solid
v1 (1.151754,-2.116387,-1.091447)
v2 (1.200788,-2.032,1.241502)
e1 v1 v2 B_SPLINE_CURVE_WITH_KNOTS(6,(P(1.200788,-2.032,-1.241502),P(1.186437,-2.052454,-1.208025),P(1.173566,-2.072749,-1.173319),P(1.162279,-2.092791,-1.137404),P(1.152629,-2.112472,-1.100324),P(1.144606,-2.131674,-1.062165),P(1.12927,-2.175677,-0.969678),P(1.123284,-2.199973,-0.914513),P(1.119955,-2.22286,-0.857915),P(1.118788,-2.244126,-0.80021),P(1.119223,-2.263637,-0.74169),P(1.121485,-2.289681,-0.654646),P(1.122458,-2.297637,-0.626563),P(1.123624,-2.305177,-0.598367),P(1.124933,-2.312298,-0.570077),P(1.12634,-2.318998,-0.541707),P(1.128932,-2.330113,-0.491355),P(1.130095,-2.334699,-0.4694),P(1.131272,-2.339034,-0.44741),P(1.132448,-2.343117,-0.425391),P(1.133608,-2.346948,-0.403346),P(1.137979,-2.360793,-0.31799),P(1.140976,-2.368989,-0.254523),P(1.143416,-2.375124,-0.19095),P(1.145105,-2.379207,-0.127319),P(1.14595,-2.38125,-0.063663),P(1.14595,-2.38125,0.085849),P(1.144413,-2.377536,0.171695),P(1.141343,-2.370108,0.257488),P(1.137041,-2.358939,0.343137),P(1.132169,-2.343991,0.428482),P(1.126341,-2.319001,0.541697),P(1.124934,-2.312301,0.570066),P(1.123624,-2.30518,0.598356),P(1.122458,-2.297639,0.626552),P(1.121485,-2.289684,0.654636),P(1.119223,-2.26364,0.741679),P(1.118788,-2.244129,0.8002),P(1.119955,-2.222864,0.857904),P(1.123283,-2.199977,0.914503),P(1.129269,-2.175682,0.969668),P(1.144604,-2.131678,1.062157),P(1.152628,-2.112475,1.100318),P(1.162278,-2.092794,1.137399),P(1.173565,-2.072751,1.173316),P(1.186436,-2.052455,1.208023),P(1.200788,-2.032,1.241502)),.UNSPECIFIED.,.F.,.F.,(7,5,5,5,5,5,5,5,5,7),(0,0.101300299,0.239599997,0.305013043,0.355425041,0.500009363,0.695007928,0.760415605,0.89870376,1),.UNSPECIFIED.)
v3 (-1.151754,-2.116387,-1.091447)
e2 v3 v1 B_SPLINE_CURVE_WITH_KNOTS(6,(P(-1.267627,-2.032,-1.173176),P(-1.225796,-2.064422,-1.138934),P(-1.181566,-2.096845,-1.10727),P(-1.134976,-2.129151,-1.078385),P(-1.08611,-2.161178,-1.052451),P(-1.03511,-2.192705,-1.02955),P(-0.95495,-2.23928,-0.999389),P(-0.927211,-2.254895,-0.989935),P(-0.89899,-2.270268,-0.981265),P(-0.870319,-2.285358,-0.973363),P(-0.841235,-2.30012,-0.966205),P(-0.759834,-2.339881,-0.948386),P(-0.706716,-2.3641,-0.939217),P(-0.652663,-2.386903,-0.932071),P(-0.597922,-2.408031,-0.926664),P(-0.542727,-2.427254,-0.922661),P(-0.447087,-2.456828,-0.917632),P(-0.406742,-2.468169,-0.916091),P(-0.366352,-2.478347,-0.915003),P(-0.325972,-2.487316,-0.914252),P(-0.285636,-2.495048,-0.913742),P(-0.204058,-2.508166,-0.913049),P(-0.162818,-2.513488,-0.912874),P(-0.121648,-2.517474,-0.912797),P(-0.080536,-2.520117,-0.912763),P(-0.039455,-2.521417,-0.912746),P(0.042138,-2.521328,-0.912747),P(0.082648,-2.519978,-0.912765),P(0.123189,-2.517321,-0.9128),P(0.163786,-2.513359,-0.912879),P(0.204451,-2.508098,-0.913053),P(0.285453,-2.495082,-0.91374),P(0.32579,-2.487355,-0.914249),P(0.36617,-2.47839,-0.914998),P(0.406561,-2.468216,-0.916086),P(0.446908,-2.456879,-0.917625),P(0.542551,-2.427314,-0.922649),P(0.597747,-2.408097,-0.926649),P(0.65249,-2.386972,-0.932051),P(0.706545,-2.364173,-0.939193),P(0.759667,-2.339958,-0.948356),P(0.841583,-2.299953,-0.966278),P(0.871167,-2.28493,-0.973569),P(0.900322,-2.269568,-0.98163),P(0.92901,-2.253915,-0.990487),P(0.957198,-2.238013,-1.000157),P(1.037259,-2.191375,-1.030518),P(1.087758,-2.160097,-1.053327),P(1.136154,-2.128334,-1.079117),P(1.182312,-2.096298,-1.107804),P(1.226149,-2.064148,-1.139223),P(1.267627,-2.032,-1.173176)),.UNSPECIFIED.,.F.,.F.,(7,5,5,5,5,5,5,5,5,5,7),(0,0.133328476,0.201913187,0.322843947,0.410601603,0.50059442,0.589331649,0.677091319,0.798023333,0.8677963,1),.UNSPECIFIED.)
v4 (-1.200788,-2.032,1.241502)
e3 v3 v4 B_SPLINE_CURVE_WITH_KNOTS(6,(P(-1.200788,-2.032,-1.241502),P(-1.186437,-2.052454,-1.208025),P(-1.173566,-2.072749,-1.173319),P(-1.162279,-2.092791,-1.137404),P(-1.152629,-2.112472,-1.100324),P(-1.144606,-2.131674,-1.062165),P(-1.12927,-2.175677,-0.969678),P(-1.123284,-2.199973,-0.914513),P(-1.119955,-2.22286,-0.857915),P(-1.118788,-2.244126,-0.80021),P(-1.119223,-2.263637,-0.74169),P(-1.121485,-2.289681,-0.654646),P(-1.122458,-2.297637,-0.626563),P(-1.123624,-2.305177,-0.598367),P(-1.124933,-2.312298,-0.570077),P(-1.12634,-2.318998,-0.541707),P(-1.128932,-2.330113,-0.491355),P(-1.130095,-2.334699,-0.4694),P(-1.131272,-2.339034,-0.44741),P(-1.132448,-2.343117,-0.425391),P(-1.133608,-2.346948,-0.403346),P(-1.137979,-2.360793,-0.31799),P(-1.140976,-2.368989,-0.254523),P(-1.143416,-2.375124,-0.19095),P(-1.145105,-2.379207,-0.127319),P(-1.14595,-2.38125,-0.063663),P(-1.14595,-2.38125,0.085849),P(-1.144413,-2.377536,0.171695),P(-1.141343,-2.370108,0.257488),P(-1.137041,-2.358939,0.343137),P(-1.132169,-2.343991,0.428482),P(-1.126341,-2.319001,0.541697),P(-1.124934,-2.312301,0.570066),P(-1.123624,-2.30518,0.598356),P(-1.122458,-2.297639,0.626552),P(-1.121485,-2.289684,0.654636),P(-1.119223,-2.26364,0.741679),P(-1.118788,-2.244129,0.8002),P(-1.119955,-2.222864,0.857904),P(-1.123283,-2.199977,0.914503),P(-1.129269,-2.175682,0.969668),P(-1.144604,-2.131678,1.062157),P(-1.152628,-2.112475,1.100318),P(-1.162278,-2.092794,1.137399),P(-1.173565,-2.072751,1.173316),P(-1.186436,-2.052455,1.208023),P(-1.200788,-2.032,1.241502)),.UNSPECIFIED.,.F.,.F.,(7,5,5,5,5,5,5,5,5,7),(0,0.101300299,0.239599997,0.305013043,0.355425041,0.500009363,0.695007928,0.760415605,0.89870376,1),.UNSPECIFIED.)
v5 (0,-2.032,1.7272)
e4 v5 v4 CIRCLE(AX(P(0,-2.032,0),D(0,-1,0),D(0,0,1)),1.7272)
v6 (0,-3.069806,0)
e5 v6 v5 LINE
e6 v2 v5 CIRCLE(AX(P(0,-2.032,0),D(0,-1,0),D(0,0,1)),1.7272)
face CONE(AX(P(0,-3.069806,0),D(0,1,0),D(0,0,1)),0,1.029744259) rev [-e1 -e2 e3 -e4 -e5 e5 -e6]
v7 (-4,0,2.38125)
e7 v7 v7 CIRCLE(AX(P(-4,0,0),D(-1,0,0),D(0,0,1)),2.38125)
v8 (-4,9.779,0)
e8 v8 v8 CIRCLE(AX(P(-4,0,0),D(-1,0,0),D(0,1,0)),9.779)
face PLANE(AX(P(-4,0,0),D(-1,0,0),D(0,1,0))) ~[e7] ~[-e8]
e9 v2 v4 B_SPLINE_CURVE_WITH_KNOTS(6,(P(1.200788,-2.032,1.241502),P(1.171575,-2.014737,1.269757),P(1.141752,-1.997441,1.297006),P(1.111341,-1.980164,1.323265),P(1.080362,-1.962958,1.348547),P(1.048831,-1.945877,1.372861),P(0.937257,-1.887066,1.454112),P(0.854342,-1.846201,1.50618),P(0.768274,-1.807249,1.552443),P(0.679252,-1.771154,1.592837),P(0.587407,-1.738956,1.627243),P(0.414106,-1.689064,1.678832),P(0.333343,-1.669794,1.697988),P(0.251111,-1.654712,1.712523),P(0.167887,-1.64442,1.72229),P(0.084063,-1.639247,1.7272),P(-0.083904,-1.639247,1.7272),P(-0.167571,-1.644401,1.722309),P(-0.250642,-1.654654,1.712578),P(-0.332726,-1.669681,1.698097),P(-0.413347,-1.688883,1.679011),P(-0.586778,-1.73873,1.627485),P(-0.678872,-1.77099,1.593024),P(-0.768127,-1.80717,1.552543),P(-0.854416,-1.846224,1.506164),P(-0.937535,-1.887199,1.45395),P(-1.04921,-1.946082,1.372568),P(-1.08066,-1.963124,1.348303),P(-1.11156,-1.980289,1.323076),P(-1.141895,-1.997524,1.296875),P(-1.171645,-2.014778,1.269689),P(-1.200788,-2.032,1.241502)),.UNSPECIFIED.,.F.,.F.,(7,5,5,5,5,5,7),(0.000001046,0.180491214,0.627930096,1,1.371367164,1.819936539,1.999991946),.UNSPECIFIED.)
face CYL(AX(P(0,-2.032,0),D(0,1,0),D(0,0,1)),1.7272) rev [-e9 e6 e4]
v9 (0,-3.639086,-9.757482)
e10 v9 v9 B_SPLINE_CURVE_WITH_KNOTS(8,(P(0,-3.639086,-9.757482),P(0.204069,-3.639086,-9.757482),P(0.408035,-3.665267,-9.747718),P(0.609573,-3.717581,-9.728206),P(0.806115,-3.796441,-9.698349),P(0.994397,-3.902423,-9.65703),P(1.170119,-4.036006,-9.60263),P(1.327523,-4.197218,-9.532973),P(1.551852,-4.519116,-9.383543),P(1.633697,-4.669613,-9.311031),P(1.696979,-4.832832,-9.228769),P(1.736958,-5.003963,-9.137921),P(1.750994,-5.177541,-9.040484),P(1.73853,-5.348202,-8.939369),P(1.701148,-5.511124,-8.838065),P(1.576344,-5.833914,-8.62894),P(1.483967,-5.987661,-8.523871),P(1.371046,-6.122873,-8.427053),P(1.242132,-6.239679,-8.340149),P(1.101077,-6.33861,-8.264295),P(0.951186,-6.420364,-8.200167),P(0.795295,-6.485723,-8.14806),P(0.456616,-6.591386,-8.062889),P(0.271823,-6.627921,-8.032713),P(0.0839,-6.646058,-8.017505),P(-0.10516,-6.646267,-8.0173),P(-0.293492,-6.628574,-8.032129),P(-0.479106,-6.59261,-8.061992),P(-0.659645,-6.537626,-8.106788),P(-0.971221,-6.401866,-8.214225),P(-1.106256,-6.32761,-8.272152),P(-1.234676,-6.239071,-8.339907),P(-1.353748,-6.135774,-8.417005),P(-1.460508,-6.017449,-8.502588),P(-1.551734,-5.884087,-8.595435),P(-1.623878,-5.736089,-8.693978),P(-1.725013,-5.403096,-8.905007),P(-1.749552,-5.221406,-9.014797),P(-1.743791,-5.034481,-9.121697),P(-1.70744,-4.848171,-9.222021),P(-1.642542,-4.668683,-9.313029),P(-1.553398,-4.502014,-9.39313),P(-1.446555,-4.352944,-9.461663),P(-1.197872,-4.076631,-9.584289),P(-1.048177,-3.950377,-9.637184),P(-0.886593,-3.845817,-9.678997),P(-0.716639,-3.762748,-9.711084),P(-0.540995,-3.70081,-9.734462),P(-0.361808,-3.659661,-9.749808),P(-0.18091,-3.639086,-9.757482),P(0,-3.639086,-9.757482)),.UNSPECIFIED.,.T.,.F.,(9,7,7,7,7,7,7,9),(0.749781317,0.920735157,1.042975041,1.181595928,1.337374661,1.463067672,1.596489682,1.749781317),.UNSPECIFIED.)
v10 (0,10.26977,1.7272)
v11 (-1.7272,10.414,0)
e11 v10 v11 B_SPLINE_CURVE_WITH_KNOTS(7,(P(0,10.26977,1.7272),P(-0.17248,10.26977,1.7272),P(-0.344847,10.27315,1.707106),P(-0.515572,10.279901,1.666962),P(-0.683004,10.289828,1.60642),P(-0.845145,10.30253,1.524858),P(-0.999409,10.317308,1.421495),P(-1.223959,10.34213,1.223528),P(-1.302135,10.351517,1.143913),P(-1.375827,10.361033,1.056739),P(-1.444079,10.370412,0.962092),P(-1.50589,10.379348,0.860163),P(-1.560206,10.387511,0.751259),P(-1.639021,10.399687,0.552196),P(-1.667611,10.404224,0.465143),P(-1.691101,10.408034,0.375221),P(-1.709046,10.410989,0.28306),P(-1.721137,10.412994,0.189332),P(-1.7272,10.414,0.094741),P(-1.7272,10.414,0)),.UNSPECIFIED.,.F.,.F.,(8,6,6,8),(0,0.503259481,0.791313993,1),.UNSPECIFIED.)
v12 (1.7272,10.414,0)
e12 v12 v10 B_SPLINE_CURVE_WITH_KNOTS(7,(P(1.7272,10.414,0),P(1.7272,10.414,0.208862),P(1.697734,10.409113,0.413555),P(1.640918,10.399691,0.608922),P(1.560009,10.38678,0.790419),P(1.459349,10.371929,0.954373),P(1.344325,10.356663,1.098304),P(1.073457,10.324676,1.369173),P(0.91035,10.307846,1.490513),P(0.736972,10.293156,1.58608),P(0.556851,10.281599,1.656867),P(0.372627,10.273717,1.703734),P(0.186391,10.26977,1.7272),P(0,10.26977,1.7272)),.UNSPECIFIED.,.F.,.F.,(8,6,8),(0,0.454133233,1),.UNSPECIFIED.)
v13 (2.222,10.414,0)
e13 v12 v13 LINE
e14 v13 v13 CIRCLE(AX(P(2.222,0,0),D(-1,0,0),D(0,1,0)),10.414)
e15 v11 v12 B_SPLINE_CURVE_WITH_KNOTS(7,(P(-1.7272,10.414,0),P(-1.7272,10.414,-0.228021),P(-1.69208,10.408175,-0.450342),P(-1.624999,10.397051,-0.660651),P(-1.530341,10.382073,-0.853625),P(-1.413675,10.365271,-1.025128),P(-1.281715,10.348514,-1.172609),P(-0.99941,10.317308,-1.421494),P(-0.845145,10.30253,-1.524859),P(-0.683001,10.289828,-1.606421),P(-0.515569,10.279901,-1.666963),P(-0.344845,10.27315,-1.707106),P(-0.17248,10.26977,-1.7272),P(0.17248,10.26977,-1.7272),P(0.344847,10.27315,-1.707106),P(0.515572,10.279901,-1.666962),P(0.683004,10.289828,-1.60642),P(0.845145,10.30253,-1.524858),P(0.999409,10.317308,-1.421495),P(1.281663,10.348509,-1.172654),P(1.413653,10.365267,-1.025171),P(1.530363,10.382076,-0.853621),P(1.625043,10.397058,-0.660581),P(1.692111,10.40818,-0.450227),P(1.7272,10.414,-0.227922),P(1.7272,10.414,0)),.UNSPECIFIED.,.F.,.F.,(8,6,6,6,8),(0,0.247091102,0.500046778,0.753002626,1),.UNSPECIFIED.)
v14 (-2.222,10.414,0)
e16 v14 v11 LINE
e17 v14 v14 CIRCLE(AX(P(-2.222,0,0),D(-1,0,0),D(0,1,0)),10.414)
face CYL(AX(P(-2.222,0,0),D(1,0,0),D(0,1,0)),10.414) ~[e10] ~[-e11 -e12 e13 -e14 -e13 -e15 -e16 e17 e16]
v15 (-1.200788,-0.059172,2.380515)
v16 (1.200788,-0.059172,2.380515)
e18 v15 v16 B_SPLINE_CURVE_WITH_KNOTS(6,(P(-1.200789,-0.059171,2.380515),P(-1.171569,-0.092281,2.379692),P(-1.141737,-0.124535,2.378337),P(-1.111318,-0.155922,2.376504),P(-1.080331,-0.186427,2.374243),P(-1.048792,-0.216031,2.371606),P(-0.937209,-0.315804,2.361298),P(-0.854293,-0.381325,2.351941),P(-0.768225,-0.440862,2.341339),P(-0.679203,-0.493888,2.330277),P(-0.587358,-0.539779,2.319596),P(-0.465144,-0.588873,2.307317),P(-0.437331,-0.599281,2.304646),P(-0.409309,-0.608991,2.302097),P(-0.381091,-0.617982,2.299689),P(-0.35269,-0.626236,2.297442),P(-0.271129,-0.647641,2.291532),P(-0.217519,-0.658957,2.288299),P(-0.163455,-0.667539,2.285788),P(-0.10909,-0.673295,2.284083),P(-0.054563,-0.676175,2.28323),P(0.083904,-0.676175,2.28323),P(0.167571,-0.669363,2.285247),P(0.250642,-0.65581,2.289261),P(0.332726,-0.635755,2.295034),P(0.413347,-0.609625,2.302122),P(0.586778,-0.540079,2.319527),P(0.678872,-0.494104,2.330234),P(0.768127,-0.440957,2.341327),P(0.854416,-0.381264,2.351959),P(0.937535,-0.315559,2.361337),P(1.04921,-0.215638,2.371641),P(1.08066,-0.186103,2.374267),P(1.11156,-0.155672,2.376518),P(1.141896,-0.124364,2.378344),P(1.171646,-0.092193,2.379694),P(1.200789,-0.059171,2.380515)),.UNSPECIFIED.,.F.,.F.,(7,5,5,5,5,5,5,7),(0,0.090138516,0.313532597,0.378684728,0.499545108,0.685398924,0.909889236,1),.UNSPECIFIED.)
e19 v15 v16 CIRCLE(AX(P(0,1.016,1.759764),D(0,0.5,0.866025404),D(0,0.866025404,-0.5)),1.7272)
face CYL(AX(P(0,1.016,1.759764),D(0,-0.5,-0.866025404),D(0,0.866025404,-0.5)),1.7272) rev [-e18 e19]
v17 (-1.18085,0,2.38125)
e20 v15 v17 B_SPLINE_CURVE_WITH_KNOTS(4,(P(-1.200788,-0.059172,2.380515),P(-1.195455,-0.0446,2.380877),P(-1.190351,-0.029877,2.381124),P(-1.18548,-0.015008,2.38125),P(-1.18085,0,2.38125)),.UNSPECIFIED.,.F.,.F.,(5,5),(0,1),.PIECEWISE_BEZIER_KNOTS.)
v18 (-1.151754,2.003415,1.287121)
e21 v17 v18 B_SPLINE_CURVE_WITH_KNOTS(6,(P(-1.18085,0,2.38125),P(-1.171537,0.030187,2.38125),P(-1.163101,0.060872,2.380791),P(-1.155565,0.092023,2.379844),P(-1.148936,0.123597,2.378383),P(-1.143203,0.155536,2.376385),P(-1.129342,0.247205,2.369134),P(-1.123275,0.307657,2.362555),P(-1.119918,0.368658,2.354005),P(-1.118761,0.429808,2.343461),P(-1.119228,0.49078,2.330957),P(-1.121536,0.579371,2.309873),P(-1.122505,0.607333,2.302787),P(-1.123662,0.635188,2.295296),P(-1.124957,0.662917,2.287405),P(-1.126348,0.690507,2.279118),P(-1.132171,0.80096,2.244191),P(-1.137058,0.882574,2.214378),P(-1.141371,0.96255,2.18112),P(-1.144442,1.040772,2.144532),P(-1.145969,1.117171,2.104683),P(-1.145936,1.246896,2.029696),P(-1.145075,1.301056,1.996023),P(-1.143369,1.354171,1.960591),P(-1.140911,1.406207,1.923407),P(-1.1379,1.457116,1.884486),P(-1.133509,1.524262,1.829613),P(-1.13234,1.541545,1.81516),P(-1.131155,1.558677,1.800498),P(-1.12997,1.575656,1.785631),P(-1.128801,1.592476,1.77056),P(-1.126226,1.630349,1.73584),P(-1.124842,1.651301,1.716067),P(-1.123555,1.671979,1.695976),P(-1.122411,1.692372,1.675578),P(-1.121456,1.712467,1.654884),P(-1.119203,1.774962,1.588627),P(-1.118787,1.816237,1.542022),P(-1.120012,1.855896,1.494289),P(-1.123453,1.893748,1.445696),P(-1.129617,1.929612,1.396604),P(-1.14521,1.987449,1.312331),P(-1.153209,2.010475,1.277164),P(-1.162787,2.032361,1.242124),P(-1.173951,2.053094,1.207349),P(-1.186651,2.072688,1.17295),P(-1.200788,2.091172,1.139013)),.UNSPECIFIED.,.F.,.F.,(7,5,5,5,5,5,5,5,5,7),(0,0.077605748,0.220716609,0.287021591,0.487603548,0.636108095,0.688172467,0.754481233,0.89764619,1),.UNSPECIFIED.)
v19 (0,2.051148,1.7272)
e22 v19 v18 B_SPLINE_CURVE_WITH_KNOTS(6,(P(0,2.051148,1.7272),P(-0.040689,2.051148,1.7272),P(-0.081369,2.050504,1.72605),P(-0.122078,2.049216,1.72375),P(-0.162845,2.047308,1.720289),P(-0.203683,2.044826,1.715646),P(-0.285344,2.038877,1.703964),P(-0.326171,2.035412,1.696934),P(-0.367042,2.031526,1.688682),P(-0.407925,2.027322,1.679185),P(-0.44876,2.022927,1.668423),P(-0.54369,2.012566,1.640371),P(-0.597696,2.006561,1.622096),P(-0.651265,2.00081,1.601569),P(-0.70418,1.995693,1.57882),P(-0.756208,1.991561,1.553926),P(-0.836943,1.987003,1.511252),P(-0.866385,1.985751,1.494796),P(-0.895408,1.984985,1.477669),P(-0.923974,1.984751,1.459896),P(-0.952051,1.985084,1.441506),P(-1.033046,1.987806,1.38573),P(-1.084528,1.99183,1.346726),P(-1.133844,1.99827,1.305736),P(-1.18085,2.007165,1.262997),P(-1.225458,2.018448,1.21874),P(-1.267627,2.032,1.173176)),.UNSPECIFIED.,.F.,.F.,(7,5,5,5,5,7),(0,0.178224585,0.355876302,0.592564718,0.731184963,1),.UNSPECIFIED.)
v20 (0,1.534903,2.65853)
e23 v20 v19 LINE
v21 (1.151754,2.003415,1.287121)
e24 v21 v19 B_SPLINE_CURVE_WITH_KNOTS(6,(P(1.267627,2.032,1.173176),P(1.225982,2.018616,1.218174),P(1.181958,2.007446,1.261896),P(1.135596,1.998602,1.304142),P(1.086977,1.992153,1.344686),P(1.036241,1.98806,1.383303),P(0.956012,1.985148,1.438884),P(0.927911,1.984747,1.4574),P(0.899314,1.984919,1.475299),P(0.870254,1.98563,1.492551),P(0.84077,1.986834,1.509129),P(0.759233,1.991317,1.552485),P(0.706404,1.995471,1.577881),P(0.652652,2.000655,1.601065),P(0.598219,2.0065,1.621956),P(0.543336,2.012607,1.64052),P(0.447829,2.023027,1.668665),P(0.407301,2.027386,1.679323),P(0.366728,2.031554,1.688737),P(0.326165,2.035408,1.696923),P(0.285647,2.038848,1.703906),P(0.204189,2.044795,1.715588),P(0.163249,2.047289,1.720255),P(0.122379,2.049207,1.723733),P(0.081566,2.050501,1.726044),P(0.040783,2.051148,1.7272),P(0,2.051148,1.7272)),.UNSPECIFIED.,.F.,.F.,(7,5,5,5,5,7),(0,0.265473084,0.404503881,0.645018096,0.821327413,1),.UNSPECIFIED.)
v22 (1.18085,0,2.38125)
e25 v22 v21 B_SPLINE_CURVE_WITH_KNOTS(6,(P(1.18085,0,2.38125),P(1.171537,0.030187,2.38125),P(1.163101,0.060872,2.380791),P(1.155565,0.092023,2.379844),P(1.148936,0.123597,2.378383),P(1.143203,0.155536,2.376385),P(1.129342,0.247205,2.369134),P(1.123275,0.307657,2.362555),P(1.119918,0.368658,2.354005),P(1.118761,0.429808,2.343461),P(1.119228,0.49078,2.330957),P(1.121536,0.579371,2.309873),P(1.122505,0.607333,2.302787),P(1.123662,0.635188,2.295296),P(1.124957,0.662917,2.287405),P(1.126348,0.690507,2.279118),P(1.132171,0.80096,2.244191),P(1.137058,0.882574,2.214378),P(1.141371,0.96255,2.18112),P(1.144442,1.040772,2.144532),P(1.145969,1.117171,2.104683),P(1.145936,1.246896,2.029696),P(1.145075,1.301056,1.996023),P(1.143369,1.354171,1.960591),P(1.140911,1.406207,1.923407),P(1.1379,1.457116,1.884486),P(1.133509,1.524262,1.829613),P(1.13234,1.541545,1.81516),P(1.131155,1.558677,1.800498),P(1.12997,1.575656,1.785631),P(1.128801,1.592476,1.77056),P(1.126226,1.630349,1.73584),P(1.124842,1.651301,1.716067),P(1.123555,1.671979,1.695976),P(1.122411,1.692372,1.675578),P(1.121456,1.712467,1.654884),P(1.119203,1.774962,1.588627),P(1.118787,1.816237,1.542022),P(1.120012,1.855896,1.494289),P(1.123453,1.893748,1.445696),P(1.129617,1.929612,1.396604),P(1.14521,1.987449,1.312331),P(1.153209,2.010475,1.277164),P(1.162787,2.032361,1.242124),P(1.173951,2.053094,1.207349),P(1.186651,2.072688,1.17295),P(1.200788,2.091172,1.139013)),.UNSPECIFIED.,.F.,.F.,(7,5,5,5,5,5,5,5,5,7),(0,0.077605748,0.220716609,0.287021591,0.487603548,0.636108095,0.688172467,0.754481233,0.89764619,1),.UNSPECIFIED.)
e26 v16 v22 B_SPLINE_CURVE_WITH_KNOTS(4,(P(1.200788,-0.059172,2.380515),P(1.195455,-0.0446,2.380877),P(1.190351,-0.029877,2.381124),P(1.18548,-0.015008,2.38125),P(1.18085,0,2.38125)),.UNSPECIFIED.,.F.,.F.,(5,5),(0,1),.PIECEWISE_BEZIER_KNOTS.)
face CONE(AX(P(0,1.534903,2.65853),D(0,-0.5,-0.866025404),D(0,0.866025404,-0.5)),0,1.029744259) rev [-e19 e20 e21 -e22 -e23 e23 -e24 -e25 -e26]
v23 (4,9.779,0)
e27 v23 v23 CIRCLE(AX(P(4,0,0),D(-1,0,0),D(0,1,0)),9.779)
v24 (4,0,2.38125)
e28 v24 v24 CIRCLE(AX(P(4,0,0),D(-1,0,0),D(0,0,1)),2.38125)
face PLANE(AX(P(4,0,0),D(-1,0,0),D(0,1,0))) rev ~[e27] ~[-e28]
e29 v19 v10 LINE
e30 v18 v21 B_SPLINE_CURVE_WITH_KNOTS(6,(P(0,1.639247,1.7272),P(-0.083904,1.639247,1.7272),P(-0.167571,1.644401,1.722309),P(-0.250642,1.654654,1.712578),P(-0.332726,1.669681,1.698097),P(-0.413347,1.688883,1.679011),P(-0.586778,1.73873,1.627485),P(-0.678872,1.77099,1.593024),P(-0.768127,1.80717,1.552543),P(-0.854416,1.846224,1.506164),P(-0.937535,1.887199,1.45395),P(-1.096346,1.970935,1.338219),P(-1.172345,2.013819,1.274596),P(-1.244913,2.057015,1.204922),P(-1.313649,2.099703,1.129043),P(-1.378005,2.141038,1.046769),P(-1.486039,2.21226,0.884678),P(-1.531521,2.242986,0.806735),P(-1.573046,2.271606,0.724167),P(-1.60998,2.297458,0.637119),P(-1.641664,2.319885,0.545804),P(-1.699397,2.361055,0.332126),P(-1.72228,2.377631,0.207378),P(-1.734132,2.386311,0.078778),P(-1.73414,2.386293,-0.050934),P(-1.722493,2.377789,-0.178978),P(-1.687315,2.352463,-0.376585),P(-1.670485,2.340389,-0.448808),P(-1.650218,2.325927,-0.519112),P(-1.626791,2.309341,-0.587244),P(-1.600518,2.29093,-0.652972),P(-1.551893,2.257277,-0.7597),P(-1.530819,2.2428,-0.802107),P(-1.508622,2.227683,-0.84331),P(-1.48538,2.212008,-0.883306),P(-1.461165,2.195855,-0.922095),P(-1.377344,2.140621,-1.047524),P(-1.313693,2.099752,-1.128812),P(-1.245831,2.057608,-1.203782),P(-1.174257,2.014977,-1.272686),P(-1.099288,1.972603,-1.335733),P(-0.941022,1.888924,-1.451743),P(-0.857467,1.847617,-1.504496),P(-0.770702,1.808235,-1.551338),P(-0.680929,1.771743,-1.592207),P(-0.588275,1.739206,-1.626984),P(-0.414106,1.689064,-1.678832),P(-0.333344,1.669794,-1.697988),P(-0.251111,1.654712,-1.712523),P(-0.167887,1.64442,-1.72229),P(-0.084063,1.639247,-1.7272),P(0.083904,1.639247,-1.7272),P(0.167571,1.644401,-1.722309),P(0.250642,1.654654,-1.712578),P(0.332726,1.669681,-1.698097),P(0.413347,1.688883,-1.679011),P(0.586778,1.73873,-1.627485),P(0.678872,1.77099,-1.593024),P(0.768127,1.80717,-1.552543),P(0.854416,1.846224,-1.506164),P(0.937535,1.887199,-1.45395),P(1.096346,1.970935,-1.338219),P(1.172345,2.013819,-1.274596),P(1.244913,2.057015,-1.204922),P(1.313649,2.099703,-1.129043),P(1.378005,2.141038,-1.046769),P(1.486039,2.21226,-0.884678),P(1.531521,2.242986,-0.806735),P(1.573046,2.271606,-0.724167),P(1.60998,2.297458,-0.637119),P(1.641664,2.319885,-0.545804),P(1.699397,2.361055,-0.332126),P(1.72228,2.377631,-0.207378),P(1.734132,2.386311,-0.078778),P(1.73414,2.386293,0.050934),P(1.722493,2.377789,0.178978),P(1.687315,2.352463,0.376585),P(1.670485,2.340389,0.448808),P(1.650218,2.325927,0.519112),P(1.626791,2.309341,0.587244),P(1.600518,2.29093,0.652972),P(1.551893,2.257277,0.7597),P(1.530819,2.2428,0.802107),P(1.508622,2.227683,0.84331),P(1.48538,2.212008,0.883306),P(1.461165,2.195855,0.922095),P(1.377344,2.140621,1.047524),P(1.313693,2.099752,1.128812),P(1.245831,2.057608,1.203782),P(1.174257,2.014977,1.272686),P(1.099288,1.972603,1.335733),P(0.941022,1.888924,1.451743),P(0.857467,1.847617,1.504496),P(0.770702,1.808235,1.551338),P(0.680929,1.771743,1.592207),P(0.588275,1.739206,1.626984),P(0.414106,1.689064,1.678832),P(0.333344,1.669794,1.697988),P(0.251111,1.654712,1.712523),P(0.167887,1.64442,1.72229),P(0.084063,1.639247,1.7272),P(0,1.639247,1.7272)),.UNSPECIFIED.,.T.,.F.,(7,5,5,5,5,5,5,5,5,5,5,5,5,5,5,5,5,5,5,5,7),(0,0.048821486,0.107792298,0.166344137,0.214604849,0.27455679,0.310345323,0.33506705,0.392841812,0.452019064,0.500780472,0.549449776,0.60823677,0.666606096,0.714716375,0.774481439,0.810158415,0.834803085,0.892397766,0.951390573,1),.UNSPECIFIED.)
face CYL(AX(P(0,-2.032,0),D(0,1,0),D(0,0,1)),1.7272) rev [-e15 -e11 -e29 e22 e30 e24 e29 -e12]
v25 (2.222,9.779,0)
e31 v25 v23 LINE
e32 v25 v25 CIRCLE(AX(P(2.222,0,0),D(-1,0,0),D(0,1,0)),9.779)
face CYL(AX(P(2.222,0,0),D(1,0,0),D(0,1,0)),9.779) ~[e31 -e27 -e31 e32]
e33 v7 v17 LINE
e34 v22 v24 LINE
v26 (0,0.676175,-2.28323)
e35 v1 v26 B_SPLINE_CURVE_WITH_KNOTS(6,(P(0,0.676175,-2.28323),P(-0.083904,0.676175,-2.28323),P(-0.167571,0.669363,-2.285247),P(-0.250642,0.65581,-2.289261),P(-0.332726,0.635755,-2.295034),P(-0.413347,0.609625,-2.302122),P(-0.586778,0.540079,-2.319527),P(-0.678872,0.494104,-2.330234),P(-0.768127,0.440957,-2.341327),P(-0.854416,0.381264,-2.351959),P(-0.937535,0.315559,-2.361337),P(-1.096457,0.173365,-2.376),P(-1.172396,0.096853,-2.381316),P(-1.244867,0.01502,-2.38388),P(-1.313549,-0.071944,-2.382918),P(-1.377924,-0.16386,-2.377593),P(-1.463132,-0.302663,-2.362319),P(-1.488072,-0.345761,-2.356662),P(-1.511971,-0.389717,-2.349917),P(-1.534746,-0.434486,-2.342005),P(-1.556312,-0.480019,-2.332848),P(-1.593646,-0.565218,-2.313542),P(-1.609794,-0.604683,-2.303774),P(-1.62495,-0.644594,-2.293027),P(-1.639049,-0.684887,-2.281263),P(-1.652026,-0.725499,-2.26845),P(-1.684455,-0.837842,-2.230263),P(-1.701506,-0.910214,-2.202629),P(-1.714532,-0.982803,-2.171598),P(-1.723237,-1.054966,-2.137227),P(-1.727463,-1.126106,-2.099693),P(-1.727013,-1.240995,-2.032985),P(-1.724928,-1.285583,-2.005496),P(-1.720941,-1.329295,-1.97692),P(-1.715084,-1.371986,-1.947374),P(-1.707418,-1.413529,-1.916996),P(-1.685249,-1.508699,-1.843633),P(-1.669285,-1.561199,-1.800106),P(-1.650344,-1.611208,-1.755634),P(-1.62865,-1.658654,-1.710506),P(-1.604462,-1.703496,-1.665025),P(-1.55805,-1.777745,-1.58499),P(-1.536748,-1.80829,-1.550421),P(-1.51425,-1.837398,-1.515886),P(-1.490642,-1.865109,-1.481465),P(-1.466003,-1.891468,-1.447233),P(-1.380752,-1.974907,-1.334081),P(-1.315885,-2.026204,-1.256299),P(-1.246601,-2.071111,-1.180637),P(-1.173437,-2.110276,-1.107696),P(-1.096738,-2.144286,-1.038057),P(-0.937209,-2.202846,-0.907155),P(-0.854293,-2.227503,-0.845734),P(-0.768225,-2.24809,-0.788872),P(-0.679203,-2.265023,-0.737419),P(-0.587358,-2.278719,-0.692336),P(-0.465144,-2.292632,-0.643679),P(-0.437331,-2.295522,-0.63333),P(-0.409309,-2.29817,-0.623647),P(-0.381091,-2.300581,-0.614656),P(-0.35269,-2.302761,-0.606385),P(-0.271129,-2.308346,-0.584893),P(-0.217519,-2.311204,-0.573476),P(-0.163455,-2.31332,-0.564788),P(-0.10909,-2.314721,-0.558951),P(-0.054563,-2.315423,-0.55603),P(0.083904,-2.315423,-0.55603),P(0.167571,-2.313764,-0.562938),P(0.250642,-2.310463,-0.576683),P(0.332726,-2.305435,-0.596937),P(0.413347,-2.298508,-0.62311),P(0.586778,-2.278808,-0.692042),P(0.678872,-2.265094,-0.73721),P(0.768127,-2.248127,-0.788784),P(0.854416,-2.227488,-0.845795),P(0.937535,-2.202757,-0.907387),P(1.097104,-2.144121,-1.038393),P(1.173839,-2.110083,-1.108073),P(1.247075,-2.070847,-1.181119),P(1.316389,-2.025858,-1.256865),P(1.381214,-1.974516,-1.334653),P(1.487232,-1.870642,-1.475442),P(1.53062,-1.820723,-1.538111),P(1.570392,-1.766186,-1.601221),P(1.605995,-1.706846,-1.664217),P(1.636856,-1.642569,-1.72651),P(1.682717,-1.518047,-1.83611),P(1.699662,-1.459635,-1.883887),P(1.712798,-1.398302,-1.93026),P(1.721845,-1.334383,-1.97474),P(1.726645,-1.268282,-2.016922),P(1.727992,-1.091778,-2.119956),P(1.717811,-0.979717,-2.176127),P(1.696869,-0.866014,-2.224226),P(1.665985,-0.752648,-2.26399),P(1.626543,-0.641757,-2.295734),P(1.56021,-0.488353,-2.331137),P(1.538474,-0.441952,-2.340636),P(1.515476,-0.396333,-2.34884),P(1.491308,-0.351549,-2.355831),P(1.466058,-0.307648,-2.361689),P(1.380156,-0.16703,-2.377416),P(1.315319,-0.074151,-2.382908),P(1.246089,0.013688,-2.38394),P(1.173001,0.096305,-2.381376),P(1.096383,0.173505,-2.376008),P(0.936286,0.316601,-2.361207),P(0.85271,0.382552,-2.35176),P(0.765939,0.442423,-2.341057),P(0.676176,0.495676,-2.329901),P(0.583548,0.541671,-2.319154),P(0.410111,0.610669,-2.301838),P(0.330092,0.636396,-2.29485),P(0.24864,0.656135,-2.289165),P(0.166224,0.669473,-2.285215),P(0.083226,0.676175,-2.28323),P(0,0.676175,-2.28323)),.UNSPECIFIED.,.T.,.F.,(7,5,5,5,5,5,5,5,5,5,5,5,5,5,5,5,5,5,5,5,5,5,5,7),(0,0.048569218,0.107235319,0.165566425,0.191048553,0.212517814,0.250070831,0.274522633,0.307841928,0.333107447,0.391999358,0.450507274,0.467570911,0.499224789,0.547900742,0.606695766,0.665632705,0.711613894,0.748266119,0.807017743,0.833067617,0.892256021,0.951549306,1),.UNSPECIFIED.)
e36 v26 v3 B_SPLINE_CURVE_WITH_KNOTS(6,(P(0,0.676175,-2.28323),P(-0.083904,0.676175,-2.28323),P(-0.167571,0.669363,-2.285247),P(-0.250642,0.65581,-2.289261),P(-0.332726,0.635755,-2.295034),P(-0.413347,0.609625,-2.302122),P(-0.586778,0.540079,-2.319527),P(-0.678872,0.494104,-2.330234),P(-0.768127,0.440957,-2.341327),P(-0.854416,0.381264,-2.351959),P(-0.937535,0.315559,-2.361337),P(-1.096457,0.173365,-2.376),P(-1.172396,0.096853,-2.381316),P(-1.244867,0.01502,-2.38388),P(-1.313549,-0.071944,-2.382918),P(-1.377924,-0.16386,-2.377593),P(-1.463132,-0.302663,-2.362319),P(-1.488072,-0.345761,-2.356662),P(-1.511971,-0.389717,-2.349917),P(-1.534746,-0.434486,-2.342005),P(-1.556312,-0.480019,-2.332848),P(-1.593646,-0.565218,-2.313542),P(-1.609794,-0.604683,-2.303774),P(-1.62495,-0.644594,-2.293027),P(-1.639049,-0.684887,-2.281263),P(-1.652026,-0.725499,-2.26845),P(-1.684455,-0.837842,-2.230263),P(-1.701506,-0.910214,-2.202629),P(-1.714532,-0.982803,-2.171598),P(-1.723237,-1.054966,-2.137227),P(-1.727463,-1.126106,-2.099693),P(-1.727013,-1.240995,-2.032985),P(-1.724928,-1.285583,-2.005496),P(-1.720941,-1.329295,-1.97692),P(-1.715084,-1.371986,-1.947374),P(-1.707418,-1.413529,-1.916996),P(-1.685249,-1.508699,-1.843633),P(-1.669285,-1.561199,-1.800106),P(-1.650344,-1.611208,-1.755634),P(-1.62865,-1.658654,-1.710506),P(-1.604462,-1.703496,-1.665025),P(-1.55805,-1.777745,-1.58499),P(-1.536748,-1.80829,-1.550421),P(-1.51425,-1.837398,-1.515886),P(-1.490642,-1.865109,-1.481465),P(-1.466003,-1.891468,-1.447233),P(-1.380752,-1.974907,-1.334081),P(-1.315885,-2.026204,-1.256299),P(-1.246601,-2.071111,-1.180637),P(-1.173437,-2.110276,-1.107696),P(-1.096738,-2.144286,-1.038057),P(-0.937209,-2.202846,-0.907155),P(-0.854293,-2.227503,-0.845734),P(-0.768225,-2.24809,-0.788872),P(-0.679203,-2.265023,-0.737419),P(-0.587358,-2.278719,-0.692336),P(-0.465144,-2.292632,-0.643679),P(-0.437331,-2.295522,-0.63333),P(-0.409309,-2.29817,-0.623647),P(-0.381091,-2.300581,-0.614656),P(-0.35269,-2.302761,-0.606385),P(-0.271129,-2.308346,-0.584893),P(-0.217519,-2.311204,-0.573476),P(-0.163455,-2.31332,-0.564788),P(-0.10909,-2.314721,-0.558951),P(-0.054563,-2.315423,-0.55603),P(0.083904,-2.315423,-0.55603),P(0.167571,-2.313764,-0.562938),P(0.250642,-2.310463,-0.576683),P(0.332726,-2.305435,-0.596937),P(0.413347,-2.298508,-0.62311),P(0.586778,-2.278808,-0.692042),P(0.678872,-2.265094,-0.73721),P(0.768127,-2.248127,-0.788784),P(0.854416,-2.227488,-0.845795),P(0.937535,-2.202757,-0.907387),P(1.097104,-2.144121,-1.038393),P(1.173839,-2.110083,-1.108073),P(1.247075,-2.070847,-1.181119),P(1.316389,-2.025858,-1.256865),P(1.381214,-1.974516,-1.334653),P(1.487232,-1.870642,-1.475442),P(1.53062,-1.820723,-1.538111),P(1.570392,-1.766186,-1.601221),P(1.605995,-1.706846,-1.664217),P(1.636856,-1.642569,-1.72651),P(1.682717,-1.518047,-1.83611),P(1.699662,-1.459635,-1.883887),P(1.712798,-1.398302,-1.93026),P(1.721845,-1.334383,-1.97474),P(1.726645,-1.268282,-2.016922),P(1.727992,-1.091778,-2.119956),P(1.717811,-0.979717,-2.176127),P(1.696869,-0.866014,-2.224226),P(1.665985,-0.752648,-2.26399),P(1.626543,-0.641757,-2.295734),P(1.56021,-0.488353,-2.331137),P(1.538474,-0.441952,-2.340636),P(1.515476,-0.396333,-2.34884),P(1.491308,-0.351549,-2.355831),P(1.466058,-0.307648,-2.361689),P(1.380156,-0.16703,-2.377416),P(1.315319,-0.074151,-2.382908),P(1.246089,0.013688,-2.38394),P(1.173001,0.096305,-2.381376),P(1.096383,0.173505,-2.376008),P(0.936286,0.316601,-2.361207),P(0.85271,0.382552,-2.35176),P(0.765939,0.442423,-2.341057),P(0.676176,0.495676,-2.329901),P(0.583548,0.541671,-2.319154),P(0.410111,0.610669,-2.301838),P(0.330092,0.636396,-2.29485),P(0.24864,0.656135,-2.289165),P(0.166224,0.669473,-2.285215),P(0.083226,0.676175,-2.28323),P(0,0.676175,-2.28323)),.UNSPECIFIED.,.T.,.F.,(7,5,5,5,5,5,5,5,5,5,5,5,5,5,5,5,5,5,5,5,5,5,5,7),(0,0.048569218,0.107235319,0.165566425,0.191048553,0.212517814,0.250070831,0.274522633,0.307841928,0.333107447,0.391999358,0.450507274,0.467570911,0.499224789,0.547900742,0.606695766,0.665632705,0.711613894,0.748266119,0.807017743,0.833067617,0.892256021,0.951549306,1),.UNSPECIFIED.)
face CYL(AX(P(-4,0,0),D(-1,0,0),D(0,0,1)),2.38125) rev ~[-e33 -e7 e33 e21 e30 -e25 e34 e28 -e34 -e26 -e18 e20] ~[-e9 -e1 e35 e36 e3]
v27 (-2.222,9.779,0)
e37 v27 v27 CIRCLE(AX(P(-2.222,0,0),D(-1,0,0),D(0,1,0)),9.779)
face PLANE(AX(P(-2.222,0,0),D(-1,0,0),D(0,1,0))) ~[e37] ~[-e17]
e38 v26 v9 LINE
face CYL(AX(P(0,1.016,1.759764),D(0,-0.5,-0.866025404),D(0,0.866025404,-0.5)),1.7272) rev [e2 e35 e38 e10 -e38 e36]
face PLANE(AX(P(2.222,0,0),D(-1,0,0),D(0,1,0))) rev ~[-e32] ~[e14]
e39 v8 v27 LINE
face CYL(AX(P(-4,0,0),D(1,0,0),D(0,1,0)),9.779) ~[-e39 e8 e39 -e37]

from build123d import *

# Parameters (mm, degrees)
SKETCH2_R          = 2.38125
CUT_EXTRUDE1_DEPTH = 9
CIRPATTERN1_COUNT  = 2
CIRPATTERN1_ANGLE  = 120


with BuildPart() as part:
    # Sketch1 → Revolve1 (revolve)
    with BuildSketch(Plane.XY):
        Polygon((4, 0), (-4, 0), (-4, 9.779), (-2.222, 9.779), (-2.222, 10.414), (2.222, 10.414), (2.222, 9.779), (4, 9.779), align=None)
    revolve(axis=Axis((8.430806561, 0, 0), (-1, 0, 0)))

    # Sketch2 → Cut-Extrude1 (cut, through all)
    with BuildSketch(Plane.ZY.offset(4)):
        Circle(SKETCH2_R)
    extrude(amount=-CUT_EXTRUDE1_DEPTH, mode=Mode.SUBTRACT)

    # Sketch4 → #8-32 Tapped Hole1 (revolve, cut)
    with BuildSketch(Plane(origin=(0, 10.414, 0), x_dir=(0, 0, 1), z_dir=(1, 0, 0))):
        Polygon((0, 0), (0, 13.483806461), (1.7272, 12.446), (1.7272, 0), align=None)
    f_8_32_tapped_hole1 = revolve(axis=Axis((0, 16.764, 0), (0, -1, 0)), mode=Mode.SUBTRACT)

    # CirPattern1: #8-32 Tapped Hole1 ×2 about axis
    cirpattern1_axis = Axis((4, 0, 0), (-1, 0, 0))
    for i in range(1, CIRPATTERN1_COUNT):
        add(f_8_32_tapped_hole1.rotate(cirpattern1_axis, i * CIRPATTERN1_ANGLE / (CIRPATTERN1_COUNT - 1)), mode=Mode.SUBTRACT)


solid = part.part
